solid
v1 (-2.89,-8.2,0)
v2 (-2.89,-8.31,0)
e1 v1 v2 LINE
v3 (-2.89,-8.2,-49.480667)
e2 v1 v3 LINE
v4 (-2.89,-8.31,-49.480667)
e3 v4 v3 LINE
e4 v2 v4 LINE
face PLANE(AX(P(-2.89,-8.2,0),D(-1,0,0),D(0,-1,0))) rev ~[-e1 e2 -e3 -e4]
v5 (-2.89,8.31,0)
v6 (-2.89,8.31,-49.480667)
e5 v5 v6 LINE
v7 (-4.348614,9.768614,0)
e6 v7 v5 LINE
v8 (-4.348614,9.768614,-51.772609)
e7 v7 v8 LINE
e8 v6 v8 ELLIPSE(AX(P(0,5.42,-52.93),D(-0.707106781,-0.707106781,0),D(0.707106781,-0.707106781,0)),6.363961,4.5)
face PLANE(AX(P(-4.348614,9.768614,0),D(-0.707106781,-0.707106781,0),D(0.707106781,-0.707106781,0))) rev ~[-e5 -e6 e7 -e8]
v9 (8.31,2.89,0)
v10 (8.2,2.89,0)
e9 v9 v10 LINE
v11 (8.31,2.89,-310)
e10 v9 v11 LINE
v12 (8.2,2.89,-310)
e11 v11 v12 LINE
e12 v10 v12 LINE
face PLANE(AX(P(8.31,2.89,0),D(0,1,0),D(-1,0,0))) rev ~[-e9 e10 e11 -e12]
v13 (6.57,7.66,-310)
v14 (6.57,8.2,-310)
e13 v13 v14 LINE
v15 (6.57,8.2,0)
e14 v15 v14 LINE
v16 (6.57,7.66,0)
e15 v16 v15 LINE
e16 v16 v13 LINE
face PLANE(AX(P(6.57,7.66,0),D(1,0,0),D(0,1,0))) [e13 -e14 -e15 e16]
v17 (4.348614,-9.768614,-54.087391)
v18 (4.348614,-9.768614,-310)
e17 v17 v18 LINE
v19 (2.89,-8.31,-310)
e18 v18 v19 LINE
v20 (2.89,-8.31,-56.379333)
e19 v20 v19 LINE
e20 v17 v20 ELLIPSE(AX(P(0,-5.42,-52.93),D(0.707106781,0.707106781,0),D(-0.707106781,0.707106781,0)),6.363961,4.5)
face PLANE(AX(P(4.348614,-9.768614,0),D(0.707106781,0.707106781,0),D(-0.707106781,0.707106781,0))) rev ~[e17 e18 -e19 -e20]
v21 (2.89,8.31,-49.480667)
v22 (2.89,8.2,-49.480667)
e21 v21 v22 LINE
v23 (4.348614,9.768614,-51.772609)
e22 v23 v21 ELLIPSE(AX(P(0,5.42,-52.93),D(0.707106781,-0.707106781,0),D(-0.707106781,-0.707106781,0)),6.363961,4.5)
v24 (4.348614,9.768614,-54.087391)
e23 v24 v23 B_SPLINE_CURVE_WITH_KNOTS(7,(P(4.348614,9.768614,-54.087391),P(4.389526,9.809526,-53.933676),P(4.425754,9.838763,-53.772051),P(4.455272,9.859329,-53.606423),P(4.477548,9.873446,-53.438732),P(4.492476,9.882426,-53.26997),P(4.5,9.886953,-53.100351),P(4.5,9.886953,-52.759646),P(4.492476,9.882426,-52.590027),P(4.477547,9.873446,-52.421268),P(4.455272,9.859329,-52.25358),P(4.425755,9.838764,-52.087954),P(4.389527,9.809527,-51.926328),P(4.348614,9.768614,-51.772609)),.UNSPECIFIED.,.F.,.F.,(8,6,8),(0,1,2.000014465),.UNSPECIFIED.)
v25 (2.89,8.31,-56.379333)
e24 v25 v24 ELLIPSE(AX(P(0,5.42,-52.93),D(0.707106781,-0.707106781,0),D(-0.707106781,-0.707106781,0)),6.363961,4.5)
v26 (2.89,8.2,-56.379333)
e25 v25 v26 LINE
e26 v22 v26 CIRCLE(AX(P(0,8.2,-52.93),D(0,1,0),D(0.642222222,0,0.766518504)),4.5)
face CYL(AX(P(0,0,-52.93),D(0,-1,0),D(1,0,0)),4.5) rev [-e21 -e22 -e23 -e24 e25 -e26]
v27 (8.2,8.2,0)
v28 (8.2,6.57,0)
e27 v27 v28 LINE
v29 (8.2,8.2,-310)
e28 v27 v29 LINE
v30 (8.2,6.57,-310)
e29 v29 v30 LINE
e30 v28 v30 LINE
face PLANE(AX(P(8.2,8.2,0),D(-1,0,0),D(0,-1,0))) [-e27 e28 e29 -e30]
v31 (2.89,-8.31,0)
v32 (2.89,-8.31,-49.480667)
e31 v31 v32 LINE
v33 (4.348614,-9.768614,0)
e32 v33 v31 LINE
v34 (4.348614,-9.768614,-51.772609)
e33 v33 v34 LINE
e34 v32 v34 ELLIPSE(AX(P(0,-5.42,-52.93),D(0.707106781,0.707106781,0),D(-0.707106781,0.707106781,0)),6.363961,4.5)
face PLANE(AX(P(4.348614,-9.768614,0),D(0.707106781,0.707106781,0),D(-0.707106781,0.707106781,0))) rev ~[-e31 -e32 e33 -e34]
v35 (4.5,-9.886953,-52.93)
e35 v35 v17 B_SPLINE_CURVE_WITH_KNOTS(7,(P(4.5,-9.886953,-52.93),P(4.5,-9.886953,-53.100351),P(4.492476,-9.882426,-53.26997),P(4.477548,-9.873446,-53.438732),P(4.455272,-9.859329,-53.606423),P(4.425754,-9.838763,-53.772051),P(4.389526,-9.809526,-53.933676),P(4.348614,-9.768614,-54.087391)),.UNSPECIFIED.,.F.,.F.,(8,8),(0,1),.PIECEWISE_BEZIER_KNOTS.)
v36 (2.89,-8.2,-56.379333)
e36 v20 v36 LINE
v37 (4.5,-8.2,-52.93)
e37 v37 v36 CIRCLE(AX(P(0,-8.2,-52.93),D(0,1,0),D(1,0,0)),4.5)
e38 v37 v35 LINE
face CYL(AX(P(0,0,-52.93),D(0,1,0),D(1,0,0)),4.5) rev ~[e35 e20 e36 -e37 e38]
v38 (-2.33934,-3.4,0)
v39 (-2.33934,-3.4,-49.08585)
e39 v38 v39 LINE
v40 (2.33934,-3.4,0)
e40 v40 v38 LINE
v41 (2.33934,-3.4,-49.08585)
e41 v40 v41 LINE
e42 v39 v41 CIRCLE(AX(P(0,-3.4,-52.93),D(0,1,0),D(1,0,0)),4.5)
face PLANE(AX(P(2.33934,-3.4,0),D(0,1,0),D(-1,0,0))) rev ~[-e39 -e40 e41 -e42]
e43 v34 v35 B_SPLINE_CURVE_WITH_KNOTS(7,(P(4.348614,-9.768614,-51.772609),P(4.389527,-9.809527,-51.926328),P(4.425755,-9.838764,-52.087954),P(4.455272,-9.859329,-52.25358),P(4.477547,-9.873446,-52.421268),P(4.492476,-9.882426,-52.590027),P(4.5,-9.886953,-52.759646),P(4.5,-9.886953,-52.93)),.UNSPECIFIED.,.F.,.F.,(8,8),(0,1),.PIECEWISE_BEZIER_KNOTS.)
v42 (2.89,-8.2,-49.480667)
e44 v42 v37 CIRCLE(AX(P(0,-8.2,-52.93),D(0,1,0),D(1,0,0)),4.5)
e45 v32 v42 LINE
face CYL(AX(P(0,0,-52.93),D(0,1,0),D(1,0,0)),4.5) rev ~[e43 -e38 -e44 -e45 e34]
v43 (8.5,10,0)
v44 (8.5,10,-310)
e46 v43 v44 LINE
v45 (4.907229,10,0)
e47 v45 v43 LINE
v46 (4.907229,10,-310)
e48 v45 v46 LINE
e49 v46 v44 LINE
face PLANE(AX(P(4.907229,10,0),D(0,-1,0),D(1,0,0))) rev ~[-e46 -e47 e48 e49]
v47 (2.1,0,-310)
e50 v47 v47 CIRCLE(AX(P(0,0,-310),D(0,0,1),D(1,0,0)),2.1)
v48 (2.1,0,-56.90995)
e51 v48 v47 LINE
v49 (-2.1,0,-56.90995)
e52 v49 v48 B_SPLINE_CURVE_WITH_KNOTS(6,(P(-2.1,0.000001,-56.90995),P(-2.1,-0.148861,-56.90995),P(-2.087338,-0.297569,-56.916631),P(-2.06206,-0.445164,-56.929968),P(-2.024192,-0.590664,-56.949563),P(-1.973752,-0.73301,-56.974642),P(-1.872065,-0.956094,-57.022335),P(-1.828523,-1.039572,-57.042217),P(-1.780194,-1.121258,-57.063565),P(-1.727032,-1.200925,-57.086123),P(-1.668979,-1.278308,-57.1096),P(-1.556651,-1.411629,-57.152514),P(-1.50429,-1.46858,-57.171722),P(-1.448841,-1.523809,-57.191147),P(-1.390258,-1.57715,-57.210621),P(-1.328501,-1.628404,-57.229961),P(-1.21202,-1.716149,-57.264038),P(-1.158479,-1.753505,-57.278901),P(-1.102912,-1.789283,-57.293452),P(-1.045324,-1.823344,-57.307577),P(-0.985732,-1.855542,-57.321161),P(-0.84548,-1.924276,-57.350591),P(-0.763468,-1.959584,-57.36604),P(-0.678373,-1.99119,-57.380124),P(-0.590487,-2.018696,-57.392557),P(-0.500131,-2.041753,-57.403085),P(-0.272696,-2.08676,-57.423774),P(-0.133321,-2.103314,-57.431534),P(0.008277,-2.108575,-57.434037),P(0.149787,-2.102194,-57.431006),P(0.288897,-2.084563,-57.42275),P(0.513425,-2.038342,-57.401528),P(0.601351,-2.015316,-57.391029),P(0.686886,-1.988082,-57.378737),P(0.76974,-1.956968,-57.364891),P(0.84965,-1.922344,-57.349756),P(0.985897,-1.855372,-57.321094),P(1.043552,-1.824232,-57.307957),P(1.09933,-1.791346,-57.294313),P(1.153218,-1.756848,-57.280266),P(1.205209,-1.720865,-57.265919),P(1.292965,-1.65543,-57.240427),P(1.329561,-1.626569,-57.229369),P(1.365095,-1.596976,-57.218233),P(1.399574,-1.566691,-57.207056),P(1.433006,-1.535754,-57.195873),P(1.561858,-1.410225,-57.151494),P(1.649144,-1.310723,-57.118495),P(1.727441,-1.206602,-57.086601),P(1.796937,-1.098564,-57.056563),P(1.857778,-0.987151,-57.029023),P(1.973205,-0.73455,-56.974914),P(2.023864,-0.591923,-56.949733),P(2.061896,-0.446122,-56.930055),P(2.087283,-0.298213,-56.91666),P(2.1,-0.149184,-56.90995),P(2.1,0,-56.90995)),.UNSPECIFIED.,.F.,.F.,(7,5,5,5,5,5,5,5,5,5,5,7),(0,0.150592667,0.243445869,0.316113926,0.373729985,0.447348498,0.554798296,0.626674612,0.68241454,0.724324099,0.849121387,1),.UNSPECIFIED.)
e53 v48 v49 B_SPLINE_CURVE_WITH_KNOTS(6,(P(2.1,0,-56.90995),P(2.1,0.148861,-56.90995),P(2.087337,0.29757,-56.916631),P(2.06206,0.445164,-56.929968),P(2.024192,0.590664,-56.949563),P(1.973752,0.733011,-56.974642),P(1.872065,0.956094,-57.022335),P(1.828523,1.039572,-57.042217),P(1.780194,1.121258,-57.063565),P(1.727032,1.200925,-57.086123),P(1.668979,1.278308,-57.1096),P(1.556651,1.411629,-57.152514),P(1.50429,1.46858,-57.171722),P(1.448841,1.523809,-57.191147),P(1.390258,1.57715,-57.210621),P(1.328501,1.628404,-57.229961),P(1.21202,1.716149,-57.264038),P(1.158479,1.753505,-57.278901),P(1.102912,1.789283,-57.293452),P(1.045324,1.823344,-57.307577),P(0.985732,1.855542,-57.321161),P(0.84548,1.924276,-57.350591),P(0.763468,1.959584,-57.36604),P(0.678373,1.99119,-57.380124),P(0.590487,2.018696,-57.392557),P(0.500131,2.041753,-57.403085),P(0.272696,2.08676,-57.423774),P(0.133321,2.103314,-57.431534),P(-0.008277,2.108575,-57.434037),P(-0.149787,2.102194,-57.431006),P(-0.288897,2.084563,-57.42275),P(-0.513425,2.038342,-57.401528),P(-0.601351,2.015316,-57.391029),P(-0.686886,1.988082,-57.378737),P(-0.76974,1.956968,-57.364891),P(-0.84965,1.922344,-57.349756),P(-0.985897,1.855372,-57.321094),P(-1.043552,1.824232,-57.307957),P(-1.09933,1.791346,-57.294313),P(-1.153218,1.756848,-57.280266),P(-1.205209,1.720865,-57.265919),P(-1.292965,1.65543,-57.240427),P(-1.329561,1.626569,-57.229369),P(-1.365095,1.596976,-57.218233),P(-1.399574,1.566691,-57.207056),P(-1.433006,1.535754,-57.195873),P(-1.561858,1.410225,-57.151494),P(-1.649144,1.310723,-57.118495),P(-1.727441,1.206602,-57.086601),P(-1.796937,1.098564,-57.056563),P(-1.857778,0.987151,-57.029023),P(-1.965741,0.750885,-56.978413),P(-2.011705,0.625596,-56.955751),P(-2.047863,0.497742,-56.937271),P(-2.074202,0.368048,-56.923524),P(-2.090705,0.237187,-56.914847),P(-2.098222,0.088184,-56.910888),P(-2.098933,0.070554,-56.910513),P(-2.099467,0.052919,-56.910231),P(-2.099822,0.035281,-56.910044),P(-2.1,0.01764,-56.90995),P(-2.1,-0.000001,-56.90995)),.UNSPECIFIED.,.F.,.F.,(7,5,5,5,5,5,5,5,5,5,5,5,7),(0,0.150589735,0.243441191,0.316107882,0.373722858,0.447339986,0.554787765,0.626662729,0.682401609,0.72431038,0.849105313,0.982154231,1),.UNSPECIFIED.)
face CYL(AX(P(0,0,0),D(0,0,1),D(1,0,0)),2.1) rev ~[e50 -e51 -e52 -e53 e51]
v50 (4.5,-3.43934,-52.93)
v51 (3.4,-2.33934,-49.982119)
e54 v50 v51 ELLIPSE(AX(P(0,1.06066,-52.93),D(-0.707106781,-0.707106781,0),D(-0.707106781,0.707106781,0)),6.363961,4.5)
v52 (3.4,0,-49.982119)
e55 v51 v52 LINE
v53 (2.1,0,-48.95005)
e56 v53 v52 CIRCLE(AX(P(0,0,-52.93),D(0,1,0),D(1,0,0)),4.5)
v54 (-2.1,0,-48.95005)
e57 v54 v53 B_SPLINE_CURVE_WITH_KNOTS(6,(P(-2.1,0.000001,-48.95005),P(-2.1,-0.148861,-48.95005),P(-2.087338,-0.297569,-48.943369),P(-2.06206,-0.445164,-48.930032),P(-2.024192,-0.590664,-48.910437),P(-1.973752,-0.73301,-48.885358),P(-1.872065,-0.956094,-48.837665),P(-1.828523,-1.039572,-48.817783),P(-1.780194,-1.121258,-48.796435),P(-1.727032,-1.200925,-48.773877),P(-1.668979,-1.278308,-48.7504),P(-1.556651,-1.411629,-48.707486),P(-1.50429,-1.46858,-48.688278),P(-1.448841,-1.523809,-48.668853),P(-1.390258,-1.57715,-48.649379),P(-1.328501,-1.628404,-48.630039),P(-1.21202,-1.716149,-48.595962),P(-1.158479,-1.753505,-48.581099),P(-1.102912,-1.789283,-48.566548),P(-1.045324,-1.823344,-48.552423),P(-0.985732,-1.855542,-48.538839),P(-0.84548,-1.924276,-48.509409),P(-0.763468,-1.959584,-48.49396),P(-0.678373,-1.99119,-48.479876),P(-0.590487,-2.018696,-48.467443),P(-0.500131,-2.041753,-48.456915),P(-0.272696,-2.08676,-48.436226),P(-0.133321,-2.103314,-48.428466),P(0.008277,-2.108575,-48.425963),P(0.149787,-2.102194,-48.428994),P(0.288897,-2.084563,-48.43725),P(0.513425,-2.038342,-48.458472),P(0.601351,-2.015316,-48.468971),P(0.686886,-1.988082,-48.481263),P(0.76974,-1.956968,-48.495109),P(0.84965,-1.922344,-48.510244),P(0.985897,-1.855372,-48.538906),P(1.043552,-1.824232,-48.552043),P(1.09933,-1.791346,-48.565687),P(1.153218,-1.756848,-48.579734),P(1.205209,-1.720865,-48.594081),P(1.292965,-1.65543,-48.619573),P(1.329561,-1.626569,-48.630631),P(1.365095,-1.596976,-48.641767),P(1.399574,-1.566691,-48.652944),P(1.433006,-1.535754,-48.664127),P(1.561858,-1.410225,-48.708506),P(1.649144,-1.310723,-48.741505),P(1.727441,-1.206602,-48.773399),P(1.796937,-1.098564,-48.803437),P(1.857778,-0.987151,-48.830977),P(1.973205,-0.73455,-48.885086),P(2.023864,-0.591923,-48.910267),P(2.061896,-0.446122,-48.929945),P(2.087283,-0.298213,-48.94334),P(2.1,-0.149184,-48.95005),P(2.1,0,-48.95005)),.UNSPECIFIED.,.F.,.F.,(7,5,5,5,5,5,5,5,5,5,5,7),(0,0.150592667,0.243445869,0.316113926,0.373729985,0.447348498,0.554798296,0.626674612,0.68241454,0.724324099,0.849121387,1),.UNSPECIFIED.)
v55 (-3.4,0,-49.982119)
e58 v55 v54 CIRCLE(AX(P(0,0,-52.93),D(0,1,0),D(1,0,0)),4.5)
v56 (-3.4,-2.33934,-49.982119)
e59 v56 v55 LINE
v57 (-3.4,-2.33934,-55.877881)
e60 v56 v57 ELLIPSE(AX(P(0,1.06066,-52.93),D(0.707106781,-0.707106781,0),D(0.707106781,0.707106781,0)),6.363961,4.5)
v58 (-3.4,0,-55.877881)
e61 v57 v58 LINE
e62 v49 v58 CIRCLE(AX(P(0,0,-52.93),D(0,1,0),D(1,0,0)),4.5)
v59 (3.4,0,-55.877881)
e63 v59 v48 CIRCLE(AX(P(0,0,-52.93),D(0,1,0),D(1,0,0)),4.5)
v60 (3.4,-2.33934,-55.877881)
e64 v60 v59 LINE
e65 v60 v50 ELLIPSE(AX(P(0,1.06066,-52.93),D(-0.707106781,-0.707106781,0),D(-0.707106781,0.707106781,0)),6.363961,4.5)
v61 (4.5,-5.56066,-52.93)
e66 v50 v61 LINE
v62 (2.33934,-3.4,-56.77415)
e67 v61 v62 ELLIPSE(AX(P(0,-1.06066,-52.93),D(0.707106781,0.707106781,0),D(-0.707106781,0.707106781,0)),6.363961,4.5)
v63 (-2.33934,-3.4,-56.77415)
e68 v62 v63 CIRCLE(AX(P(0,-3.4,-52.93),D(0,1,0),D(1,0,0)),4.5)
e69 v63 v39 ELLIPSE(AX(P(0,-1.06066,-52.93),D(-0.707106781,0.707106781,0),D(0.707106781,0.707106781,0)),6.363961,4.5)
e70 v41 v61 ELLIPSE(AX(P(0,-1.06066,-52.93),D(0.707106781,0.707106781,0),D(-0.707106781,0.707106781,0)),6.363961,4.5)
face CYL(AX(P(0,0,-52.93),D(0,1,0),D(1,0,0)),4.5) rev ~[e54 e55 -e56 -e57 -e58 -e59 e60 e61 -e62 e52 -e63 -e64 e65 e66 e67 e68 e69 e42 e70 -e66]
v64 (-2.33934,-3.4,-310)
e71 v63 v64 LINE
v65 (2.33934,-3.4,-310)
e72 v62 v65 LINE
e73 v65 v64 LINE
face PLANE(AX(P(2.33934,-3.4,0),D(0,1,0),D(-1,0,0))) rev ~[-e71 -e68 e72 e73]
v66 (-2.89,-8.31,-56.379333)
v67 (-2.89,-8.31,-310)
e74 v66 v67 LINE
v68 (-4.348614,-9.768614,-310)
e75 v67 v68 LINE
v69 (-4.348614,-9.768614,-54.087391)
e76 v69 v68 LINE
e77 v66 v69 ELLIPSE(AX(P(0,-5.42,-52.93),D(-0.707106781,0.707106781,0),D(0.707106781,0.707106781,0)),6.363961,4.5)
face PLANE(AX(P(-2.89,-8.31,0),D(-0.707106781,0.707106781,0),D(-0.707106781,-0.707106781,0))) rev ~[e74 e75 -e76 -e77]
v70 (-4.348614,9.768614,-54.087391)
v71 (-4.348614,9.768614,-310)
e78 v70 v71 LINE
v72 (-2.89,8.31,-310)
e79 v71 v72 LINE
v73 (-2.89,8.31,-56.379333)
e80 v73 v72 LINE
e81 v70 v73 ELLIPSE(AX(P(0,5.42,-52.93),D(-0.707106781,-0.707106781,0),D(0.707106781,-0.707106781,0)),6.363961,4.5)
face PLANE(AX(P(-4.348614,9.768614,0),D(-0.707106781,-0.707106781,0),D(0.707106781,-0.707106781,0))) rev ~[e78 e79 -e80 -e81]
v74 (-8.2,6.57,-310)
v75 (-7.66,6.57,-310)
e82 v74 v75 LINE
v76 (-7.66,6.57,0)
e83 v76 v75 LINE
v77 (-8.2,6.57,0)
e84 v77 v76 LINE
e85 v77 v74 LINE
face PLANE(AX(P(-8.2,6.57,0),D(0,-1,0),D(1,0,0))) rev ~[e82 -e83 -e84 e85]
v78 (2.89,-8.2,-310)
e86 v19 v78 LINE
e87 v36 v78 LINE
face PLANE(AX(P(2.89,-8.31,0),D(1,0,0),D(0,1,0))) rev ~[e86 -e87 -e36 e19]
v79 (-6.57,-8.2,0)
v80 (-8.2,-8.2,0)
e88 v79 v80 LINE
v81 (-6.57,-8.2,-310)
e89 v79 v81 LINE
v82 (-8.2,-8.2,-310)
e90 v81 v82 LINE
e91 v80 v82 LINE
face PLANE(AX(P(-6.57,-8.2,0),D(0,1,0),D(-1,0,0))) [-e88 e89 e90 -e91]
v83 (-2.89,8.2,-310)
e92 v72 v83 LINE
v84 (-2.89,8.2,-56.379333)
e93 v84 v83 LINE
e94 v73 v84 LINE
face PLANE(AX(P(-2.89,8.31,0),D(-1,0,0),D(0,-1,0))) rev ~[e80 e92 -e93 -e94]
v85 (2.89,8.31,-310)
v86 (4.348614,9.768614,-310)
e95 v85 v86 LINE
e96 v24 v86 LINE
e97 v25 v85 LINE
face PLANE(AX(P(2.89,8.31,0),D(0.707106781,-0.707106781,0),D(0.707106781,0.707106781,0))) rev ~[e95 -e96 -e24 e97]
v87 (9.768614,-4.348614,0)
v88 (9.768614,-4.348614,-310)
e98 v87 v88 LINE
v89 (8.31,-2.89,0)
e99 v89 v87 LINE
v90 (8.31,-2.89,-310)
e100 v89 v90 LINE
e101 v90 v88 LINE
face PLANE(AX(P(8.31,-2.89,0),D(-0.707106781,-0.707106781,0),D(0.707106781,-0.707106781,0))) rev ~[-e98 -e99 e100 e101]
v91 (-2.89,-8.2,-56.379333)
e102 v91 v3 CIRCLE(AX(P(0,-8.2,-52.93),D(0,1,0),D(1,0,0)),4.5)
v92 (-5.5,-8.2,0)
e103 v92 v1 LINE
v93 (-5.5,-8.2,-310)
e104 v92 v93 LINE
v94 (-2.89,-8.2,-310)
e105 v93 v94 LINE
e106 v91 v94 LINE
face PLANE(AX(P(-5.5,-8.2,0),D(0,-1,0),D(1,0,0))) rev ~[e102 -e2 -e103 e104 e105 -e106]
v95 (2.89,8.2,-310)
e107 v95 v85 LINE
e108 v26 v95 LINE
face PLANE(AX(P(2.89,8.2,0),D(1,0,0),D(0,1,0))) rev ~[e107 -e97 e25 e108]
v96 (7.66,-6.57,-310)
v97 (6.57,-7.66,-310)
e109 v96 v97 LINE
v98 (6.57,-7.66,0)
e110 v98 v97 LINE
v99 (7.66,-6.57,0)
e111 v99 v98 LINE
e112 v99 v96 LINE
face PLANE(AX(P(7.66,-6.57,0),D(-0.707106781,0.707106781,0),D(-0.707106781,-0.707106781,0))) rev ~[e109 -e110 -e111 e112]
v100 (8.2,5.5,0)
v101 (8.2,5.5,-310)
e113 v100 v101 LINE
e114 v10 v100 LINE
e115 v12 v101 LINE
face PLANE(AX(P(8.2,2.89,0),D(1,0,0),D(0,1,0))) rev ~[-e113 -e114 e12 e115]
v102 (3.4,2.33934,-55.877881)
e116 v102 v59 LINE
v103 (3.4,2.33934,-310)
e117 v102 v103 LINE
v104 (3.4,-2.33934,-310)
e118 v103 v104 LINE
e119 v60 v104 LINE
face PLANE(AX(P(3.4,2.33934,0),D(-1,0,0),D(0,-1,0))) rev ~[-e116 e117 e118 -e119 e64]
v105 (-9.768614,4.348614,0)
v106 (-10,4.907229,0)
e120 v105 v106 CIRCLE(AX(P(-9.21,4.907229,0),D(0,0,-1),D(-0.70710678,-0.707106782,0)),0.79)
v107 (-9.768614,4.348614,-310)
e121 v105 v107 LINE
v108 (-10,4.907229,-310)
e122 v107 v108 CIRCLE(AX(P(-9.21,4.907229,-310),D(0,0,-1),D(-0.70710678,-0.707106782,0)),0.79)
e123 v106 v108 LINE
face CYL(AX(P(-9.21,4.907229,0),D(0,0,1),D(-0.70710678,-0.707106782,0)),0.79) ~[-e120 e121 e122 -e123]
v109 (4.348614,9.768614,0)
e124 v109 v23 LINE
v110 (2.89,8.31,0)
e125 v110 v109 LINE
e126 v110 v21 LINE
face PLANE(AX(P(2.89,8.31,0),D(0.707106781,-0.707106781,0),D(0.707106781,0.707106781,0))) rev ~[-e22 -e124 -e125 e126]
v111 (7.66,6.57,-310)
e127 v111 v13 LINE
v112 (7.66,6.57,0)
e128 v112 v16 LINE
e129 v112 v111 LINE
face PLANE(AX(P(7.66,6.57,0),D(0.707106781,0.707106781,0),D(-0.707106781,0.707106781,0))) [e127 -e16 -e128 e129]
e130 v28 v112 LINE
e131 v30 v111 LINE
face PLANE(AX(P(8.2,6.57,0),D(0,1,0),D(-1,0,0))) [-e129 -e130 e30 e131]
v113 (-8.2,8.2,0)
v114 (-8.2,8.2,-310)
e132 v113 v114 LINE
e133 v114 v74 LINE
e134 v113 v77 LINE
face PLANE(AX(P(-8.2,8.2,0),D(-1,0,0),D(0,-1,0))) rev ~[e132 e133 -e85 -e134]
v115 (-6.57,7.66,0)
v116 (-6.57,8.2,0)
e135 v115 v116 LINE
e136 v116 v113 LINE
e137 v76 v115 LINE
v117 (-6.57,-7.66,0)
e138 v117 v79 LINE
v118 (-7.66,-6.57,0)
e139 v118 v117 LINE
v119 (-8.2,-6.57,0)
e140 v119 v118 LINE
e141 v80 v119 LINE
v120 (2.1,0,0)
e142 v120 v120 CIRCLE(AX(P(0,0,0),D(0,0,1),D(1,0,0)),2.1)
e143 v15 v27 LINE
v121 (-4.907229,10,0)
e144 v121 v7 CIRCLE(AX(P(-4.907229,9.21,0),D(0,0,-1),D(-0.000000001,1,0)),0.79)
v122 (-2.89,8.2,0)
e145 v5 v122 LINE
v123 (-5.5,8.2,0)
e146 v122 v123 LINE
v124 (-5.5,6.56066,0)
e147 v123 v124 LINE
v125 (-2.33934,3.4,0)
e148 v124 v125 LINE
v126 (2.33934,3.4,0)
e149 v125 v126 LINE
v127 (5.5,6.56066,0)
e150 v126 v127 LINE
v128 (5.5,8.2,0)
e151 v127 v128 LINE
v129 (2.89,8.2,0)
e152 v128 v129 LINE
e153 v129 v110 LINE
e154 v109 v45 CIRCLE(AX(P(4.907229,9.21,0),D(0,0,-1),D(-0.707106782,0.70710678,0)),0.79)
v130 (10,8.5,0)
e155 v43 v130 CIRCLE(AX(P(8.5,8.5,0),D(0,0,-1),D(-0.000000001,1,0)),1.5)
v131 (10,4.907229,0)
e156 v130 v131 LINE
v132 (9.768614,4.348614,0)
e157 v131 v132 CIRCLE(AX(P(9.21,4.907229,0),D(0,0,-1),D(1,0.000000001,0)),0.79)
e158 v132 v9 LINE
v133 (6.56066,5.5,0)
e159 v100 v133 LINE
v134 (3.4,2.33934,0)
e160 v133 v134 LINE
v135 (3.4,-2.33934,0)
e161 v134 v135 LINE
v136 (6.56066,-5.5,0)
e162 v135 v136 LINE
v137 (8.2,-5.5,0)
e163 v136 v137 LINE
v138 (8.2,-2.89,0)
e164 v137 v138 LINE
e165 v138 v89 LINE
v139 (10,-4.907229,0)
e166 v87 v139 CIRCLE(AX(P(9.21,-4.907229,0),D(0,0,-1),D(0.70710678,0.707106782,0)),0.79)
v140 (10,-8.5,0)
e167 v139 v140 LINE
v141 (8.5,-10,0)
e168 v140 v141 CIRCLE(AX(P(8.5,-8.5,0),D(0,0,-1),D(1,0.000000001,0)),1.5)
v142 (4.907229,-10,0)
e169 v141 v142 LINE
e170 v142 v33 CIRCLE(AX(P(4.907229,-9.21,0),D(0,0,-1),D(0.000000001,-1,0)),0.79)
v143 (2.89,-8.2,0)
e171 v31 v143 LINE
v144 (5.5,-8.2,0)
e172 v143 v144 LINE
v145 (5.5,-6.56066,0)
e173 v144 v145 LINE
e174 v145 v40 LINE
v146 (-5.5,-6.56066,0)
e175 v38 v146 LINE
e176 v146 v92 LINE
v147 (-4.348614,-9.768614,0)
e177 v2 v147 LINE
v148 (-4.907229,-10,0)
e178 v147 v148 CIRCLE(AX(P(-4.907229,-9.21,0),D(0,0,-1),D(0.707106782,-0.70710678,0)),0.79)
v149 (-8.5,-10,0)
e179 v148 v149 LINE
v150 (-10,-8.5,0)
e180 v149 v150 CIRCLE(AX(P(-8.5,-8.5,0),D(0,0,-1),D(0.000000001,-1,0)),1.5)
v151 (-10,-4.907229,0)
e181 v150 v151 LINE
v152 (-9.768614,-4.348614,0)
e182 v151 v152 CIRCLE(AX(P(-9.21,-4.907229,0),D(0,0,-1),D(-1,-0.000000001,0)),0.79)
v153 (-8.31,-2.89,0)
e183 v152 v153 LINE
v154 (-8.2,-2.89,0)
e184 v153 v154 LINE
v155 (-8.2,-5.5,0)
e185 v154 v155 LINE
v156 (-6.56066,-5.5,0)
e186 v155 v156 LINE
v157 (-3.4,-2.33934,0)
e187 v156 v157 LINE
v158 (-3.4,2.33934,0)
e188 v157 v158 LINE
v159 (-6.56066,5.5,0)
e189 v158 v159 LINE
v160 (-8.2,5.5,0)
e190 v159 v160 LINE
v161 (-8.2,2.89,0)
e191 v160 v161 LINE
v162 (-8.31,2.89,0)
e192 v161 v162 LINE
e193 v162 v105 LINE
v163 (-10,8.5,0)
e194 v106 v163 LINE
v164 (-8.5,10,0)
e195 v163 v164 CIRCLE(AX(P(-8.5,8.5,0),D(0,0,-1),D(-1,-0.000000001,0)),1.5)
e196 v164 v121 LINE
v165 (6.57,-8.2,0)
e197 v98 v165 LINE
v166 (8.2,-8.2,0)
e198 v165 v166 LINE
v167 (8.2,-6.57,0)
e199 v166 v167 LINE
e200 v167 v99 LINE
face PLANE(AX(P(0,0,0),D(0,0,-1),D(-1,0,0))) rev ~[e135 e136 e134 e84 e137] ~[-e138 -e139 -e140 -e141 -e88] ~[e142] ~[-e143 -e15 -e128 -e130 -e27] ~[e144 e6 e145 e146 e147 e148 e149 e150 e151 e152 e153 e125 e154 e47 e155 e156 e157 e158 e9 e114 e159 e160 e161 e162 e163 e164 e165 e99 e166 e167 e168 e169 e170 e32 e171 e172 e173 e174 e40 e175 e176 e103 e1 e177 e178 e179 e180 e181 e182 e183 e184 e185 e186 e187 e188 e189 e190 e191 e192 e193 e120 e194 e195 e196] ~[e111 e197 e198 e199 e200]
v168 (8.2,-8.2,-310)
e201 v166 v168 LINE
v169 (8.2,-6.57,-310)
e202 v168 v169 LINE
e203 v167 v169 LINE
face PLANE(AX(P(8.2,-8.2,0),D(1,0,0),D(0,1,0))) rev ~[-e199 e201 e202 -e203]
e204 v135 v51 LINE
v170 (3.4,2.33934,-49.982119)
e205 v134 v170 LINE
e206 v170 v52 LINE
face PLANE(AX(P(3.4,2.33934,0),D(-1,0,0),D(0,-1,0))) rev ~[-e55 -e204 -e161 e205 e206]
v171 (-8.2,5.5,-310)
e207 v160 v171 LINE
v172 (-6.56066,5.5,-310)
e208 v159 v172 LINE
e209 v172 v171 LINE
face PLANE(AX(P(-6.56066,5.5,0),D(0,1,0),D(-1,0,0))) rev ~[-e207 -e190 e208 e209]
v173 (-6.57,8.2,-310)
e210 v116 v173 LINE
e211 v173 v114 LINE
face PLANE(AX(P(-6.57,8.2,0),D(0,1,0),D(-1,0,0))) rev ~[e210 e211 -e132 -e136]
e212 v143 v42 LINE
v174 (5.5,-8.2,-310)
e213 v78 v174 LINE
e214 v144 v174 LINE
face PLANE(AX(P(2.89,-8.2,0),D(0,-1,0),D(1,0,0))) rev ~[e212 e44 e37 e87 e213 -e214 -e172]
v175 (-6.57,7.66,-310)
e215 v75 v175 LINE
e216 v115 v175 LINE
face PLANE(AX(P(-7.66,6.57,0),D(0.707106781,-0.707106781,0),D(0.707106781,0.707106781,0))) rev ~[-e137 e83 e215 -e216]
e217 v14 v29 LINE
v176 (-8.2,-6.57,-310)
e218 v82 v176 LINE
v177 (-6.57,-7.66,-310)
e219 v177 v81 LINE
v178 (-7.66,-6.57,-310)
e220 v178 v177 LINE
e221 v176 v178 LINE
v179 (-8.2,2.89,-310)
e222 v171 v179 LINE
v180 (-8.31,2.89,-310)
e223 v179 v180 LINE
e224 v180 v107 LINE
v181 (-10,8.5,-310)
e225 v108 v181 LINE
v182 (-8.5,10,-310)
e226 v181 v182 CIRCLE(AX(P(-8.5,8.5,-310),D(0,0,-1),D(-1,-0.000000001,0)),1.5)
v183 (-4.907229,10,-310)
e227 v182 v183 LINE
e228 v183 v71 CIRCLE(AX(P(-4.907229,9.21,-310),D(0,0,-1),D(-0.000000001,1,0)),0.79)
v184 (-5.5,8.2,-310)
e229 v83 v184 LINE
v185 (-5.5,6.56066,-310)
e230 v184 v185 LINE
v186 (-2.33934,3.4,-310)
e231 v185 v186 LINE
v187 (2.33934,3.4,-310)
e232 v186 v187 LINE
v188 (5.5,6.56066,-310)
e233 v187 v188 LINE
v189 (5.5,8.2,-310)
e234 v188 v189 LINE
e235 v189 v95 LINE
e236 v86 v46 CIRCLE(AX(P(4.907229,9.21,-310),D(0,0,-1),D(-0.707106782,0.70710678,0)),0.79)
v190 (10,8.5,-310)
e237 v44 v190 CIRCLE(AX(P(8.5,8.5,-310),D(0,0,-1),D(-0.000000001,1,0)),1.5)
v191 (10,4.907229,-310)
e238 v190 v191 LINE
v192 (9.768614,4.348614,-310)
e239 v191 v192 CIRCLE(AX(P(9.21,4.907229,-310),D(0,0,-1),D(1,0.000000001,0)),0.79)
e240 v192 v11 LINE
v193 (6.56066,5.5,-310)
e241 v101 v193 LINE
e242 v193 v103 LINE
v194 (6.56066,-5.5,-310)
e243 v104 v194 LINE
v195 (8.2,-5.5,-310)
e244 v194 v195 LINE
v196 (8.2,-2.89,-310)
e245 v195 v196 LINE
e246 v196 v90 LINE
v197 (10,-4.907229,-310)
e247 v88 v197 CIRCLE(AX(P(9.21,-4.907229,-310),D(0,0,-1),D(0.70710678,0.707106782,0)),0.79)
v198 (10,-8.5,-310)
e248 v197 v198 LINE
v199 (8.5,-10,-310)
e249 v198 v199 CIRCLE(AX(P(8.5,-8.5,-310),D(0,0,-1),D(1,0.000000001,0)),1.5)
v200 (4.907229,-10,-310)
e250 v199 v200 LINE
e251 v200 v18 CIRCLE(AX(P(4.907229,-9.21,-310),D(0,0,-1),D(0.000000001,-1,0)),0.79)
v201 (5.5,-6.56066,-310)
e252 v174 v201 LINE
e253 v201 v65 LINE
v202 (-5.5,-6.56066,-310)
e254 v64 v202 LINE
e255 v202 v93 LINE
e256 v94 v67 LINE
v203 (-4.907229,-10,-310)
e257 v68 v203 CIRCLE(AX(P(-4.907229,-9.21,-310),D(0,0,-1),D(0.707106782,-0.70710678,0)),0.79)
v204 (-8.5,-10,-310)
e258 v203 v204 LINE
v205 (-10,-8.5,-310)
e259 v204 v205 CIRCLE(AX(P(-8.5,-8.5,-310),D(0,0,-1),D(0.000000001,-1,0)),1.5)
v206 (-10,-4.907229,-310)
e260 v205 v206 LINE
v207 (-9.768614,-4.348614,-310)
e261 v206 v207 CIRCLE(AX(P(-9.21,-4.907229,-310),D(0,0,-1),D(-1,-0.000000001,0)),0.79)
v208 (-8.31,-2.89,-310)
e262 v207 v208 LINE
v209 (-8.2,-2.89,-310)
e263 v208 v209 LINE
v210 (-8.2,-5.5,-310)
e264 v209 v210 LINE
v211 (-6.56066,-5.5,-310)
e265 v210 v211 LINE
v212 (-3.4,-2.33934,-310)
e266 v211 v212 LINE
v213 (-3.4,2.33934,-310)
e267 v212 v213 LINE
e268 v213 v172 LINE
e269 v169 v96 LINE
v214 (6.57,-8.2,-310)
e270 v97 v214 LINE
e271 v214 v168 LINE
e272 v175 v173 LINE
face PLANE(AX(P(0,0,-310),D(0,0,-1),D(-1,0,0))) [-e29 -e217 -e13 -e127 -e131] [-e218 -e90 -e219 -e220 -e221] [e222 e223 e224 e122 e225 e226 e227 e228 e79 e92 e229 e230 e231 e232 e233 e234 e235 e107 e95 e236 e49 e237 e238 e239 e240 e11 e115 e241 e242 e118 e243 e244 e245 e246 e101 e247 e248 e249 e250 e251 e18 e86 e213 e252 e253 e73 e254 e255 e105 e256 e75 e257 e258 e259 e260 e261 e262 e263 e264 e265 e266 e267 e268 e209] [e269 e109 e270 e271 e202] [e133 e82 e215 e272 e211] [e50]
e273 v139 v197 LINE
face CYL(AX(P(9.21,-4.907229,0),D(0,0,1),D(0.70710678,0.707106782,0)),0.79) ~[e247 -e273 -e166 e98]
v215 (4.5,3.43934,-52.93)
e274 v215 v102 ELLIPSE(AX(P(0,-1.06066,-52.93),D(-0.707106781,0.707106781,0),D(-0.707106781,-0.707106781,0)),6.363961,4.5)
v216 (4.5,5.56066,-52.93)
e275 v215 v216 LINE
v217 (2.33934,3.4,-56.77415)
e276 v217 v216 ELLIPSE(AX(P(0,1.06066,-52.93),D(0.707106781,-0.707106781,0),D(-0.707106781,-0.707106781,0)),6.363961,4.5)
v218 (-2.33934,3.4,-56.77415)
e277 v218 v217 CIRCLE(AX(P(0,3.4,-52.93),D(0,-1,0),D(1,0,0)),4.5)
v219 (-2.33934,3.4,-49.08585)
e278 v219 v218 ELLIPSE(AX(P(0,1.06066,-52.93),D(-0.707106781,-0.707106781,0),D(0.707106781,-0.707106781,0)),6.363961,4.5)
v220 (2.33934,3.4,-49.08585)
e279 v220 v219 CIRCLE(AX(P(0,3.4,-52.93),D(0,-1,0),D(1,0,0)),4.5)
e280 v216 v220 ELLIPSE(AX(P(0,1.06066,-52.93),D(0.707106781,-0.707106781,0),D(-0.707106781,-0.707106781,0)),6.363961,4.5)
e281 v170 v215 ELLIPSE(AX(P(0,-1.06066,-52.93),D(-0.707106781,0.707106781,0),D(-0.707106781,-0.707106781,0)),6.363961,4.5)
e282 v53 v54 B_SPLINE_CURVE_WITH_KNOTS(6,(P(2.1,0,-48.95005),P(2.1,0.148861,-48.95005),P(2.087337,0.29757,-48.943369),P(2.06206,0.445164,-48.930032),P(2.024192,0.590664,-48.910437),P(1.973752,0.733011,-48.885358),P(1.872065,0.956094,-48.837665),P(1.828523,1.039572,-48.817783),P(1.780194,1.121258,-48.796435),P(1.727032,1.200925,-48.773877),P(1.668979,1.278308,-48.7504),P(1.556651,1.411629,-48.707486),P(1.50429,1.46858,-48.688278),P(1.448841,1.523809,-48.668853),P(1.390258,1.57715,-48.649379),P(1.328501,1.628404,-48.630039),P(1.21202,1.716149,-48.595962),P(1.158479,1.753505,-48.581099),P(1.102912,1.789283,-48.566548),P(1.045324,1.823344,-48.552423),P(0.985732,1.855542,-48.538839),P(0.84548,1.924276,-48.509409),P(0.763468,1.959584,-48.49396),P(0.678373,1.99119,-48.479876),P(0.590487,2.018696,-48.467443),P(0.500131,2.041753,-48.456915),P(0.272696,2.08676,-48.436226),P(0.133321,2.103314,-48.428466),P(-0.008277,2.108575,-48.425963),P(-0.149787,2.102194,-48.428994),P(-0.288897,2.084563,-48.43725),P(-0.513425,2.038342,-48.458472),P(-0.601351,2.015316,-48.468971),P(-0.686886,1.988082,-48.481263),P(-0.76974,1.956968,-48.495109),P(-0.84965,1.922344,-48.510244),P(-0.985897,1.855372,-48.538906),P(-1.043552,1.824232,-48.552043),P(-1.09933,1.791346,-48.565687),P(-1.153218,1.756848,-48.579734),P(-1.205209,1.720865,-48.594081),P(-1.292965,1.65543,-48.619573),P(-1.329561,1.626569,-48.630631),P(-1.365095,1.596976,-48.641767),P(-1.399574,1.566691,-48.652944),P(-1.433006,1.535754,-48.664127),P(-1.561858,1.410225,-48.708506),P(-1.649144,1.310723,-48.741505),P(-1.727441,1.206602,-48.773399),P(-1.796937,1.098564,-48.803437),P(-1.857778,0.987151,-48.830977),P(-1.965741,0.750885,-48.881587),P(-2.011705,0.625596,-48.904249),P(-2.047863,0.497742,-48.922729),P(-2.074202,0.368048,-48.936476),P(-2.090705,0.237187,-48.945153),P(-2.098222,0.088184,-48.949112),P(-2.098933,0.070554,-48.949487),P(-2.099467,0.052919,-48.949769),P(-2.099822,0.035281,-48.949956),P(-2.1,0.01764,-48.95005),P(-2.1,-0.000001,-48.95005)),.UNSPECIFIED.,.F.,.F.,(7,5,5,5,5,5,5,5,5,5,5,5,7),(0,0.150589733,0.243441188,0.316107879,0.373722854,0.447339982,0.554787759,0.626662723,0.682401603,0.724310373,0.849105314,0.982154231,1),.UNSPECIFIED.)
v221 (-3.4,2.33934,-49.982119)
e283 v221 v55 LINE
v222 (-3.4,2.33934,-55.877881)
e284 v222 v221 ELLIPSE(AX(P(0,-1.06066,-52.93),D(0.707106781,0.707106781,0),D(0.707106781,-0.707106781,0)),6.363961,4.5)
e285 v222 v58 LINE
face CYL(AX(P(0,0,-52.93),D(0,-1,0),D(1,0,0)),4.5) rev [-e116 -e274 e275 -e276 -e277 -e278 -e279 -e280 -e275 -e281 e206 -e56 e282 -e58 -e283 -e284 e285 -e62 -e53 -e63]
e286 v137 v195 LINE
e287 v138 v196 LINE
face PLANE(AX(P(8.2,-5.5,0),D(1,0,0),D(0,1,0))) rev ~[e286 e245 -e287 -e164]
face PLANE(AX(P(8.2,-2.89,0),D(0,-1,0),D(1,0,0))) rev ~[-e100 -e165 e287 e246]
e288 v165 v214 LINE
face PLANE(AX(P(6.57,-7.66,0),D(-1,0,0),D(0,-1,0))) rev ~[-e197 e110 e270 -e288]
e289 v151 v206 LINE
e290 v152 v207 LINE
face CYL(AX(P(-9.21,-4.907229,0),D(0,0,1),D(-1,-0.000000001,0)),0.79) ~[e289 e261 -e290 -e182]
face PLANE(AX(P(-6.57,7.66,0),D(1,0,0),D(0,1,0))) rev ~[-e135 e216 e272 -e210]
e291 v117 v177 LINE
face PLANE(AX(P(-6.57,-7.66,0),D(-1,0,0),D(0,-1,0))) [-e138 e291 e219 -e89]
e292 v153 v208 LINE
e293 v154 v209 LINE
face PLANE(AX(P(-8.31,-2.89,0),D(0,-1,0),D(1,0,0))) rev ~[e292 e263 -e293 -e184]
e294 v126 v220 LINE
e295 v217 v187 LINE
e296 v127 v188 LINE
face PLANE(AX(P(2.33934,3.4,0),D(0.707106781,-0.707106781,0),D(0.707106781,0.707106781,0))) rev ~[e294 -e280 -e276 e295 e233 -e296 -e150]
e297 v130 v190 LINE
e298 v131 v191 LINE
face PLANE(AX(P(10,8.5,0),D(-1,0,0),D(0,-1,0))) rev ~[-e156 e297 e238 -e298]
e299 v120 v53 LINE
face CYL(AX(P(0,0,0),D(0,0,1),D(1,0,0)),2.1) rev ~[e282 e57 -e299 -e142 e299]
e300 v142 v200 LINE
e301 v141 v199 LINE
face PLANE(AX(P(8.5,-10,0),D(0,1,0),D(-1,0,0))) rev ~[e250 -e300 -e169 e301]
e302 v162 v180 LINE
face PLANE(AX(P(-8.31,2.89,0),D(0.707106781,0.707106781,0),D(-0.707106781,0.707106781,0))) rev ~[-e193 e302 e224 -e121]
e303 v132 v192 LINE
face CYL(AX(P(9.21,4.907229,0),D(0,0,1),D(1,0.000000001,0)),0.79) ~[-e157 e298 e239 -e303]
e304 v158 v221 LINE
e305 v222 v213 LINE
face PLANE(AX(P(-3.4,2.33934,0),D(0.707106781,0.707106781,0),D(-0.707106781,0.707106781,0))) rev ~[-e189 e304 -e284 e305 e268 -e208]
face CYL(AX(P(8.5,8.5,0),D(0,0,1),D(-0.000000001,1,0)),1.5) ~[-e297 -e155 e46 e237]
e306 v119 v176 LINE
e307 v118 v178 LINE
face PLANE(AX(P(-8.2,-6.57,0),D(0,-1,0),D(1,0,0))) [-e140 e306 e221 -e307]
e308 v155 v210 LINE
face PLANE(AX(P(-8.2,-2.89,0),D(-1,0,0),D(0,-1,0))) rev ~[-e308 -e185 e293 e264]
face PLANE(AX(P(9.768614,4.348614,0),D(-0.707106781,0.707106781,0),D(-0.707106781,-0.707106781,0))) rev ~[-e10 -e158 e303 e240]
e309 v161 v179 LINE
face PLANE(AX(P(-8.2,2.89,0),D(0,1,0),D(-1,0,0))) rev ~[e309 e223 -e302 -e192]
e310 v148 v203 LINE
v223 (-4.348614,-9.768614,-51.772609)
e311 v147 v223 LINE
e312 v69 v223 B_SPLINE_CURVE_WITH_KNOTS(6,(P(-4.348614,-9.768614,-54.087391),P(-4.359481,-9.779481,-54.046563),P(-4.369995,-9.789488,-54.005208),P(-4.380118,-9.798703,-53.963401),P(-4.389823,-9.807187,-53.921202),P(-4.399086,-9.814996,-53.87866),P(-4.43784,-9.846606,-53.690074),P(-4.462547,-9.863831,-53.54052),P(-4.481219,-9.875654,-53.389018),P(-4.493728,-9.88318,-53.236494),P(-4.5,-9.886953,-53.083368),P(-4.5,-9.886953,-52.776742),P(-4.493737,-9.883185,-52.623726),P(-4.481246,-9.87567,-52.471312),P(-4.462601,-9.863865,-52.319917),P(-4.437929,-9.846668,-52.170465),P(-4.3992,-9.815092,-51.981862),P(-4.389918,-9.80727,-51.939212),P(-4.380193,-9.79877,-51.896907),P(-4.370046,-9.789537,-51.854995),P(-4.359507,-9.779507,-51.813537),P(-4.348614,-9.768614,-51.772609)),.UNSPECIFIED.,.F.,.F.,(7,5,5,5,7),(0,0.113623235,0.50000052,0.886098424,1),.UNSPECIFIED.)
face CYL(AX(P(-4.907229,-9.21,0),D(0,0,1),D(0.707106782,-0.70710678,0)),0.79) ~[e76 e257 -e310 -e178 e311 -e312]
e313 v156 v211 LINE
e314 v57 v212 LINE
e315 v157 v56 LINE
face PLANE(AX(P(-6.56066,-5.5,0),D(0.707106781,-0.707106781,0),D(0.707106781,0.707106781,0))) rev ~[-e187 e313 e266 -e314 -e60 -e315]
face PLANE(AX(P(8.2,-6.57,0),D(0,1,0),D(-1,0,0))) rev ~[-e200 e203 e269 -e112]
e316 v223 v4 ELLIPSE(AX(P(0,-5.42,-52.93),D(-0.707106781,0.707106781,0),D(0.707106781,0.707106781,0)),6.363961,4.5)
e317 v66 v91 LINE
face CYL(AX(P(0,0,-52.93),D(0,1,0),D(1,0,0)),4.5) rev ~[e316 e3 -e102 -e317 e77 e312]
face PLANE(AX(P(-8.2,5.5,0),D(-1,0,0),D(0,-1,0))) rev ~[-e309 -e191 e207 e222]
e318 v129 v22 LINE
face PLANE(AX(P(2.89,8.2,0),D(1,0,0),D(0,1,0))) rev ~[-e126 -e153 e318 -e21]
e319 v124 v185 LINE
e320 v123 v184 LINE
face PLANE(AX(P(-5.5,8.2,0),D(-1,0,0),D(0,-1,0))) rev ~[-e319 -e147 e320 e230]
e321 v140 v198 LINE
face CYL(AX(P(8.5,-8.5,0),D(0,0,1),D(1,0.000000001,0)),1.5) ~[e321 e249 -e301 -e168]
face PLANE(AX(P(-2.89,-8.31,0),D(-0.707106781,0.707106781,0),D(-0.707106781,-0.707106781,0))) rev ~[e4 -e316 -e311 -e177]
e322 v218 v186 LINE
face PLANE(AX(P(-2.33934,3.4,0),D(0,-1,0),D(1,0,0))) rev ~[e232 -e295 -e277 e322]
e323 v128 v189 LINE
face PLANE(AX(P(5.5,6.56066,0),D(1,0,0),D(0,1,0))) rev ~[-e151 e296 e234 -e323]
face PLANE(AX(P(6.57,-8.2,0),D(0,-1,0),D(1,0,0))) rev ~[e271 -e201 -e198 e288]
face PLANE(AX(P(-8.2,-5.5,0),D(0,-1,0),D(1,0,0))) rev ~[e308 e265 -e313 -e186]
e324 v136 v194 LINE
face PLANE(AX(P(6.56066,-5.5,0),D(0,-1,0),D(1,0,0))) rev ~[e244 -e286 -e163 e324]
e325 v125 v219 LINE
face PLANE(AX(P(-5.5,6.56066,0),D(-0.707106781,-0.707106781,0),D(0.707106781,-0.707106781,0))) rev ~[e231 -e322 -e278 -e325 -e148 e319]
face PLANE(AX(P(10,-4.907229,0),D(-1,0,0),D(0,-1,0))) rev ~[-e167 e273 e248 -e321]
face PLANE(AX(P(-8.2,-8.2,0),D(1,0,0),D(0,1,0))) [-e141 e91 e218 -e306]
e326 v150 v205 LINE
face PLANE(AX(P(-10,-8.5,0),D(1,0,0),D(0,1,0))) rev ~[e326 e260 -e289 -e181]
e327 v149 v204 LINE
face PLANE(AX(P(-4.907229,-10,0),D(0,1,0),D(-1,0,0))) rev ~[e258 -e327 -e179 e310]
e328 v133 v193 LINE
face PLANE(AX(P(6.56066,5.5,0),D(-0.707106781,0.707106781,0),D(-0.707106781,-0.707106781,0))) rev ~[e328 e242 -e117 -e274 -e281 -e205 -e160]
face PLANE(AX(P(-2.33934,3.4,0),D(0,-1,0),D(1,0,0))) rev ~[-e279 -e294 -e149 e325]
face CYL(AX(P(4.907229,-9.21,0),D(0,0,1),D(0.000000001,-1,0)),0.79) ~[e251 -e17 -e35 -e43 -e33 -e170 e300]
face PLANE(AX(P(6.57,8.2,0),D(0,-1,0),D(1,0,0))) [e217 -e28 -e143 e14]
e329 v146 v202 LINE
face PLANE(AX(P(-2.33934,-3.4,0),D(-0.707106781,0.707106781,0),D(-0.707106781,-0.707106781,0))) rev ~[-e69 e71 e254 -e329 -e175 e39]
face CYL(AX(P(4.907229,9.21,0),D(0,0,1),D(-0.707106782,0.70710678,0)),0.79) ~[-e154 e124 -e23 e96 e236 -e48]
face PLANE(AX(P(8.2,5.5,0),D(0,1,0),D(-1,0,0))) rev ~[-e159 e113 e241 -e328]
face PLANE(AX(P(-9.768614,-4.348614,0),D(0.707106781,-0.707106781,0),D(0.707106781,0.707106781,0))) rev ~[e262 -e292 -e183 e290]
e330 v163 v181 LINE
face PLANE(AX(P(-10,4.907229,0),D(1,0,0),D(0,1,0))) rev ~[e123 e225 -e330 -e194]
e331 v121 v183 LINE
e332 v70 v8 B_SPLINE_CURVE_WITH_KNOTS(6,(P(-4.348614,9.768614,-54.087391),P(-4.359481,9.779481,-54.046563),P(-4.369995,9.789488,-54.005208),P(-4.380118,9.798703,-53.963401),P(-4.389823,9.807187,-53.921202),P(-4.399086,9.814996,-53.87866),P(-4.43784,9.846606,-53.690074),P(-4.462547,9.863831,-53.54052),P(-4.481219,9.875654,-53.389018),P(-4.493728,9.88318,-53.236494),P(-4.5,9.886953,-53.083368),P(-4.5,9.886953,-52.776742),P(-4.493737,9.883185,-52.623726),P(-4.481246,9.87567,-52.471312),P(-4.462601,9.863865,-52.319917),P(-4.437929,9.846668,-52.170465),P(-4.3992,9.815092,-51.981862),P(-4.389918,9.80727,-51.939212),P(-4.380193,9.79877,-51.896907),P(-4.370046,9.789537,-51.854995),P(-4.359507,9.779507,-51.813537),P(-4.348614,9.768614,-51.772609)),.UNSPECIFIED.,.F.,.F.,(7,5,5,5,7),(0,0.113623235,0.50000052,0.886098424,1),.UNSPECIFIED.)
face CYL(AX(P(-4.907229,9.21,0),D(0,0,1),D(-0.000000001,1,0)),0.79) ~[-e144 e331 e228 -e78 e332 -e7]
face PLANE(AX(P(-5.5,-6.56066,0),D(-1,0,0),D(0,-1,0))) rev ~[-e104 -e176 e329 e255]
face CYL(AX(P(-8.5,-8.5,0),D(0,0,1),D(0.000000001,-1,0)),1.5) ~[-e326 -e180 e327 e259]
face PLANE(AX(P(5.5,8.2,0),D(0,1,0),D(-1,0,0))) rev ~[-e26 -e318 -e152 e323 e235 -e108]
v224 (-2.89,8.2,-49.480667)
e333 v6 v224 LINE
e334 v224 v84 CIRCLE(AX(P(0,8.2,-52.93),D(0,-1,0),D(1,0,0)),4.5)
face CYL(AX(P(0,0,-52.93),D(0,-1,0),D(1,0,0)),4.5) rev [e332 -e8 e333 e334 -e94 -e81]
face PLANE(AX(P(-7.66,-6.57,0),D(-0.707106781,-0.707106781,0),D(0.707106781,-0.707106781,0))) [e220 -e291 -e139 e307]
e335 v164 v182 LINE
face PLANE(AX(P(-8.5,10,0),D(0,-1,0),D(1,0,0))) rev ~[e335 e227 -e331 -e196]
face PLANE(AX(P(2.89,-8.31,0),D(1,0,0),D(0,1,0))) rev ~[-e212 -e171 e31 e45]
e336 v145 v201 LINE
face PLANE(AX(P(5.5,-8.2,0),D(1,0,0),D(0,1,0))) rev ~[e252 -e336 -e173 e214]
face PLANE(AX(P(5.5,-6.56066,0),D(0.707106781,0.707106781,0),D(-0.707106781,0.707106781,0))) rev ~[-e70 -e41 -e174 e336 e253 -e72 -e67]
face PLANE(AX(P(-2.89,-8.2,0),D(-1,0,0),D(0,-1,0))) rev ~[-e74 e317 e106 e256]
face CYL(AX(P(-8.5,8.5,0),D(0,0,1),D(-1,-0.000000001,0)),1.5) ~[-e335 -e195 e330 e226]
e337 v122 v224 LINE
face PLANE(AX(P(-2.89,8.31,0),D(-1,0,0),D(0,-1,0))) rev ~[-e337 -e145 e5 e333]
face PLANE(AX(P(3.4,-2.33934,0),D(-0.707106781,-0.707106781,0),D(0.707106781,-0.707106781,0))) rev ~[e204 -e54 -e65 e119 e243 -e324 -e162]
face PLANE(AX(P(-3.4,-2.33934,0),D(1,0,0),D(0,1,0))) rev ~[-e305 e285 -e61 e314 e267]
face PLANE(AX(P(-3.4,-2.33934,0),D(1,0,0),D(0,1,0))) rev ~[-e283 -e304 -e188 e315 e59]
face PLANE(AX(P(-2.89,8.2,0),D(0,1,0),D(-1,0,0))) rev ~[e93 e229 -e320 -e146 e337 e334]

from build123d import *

# Parameters (mm, degrees)
SKETCH6_R               = 2.1
BOSS_EXTRUDE1_DEPTH     = 310
SKETCH7_R               = 4.5
CUT_EXTRUDE1_DEPTH      = 11
CUT_EXTRUDE1_DEPTH_BACK = 11


with BuildPart() as part:
    # Sketch6 → Boss-Extrude1 (new body)
    with BuildSketch(Plane.XY):
        with BuildLine():
            Line((-3.4, -2.339339828), (-3.4, 2.339339828))
            Line((-3.4, 2.339339828), (-6.560660172, 5.5))
            Line((-6.560660172, 5.5), (-8.2, 5.5))
            Line((-8.2, 5.5), (-8.2, 2.89))
            Line((-8.2, 2.89), (-8.31, 2.89))
            Line((-8.31, 2.89), (-9.768614357, 4.348614357))
            ThreePointArc((-9.768614357, 4.348614357), (-9.939864831, 4.604908803), (-10, 4.907228714))
            Line((-10, 4.907228714), (-10, 8.5))
            ThreePointArc((-10, 8.5), (-9.560660172, 9.560660172), (-8.5, 10))
            Line((-8.5, 10), (-4.907228714, 10))
            ThreePointArc((-4.907228714, 10), (-4.604908803, 9.939864831), (-4.348614357, 9.768614357))
            Line((-4.348614357, 9.768614357), (-2.89, 8.31))
            Line((-2.89, 8.31), (-2.89, 8.2))
            Line((-2.89, 8.2), (-5.5, 8.2))
            Line((-5.5, 8.2), (-5.5, 6.560660172))
            Line((-5.5, 6.560660172), (-2.339339828, 3.4))
            Line((-2.339339828, 3.4), (2.339339828, 3.4))
            Line((2.339339828, 3.4), (5.5, 6.560660172))
            Line((5.5, 6.560660172), (5.5, 8.2))
            Line((5.5, 8.2), (2.89, 8.2))
            Line((2.89, 8.2), (2.89, 8.31))
            Line((2.89, 8.31), (4.348614357, 9.768614357))
            ThreePointArc((4.348614357, 9.768614357), (4.604908803, 9.939864831), (4.907228714, 10))
            Line((4.907228714, 10), (8.5, 10))
            ThreePointArc((8.5, 10), (9.560660172, 9.560660172), (10, 8.5))
            Line((10, 8.5), (10, 4.907228714))
            ThreePointArc((10, 4.907228714), (9.939864831, 4.604908803), (9.768614357, 4.348614357))
            Line((9.768614357, 4.348614357), (8.31, 2.89))
            Line((8.31, 2.89), (8.2, 2.89))
            Line((8.2, 2.89), (8.2, 5.5))
            Line((8.2, 5.5), (6.560660172, 5.5))
            Line((6.560660172, 5.5), (3.4, 2.339339828))
            Line((3.4, 2.339339828), (3.4, -2.339339828))
            Line((3.4, -2.339339828), (6.560660172, -5.5))
            Line((6.560660172, -5.5), (8.2, -5.5))
            Line((8.2, -5.5), (8.2, -2.89))
            Line((8.2, -2.89), (8.31, -2.89))
            Line((8.31, -2.89), (9.768614357, -4.348614357))
            ThreePointArc((9.768614357, -4.348614357), (9.939864831, -4.604908803), (10, -4.907228714))
            Line((10, -4.907228714), (10, -8.5))
            ThreePointArc((10, -8.5), (9.560660172, -9.560660172), (8.5, -10))
            Line((8.5, -10), (4.907228714, -10))
            ThreePointArc((4.907228714, -10), (4.604908803, -9.939864831), (4.348614357, -9.768614357))
            Line((4.348614357, -9.768614357), (2.89, -8.31))
            Line((2.89, -8.31), (2.89, -8.2))
            Line((2.89, -8.2), (5.5, -8.2))
            Line((5.5, -8.2), (5.5, -6.560660172))
            Line((5.5, -6.560660172), (2.339339828, -3.4))
            Line((2.339339828, -3.4), (-2.339339828, -3.4))
            Line((-2.339339828, -3.4), (-5.5, -6.560660172))
            Line((-5.5, -6.560660172), (-5.5, -8.2))
            Line((-5.5, -8.2), (-2.89, -8.2))
            Line((-2.89, -8.2), (-2.89, -8.31))
            Line((-2.89, -8.31), (-4.348614357, -9.768614357))
            ThreePointArc((-4.348614357, -9.768614357), (-4.604908803, -9.939864831), (-4.907228714, -10))
            Line((-4.907228714, -10), (-8.5, -10))
            ThreePointArc((-8.5, -10), (-9.560660172, -9.560660172), (-10, -8.5))
            Line((-10, -8.5), (-10, -4.907228714))
            ThreePointArc((-10, -4.907228714), (-9.939864831, -4.604908803), (-9.768614357, -4.348614357))
            Line((-9.768614357, -4.348614357), (-8.31, -2.89))
            Line((-8.31, -2.89), (-8.2, -2.89))
            Line((-8.2, -2.89), (-8.2, -5.5))
            Line((-8.2, -5.5), (-6.560660172, -5.5))
            Line((-6.560660172, -5.5), (-3.4, -2.339339828))
        make_face()
        Circle(SKETCH6_R, mode=Mode.SUBTRACT)
        Polygon((-7.66, 6.57), (-6.57, 7.66), (-6.57, 8.2), (-8.2, 8.2), (-8.2, 6.57), align=None, mode=Mode.SUBTRACT)
        Polygon((8.2, 6.57), (7.66, 6.57), (6.57, 7.66), (6.57, 8.2), (8.2, 8.2), align=None, mode=Mode.SUBTRACT)
        Polygon((7.66, -6.57), (6.57, -7.66), (6.57, -8.2), (8.2, -8.2), (8.2, -6.57), align=None, mode=Mode.SUBTRACT)
        Polygon((-8.2, -6.57), (-7.66, -6.57), (-6.57, -7.66), (-6.57, -8.2), (-8.2, -8.2), align=None, mode=Mode.SUBTRACT)
    extrude(amount=-BOSS_EXTRUDE1_DEPTH)

    # Sketch7 → Cut-Extrude1 (cut, two sides)
    with BuildSketch(Plane(origin=(0, 0, 0), x_dir=(1, 0, 0), z_dir=(0, 1, 0))) as cut_extrude1_sk:
        with Locations((0, 52.93)):
            Circle(SKETCH7_R)
    extrude(amount=CUT_EXTRUDE1_DEPTH, mode=Mode.SUBTRACT)
    extrude(cut_extrude1_sk.sketch, amount=-CUT_EXTRUDE1_DEPTH_BACK, mode=Mode.SUBTRACT)


solid = part.part
